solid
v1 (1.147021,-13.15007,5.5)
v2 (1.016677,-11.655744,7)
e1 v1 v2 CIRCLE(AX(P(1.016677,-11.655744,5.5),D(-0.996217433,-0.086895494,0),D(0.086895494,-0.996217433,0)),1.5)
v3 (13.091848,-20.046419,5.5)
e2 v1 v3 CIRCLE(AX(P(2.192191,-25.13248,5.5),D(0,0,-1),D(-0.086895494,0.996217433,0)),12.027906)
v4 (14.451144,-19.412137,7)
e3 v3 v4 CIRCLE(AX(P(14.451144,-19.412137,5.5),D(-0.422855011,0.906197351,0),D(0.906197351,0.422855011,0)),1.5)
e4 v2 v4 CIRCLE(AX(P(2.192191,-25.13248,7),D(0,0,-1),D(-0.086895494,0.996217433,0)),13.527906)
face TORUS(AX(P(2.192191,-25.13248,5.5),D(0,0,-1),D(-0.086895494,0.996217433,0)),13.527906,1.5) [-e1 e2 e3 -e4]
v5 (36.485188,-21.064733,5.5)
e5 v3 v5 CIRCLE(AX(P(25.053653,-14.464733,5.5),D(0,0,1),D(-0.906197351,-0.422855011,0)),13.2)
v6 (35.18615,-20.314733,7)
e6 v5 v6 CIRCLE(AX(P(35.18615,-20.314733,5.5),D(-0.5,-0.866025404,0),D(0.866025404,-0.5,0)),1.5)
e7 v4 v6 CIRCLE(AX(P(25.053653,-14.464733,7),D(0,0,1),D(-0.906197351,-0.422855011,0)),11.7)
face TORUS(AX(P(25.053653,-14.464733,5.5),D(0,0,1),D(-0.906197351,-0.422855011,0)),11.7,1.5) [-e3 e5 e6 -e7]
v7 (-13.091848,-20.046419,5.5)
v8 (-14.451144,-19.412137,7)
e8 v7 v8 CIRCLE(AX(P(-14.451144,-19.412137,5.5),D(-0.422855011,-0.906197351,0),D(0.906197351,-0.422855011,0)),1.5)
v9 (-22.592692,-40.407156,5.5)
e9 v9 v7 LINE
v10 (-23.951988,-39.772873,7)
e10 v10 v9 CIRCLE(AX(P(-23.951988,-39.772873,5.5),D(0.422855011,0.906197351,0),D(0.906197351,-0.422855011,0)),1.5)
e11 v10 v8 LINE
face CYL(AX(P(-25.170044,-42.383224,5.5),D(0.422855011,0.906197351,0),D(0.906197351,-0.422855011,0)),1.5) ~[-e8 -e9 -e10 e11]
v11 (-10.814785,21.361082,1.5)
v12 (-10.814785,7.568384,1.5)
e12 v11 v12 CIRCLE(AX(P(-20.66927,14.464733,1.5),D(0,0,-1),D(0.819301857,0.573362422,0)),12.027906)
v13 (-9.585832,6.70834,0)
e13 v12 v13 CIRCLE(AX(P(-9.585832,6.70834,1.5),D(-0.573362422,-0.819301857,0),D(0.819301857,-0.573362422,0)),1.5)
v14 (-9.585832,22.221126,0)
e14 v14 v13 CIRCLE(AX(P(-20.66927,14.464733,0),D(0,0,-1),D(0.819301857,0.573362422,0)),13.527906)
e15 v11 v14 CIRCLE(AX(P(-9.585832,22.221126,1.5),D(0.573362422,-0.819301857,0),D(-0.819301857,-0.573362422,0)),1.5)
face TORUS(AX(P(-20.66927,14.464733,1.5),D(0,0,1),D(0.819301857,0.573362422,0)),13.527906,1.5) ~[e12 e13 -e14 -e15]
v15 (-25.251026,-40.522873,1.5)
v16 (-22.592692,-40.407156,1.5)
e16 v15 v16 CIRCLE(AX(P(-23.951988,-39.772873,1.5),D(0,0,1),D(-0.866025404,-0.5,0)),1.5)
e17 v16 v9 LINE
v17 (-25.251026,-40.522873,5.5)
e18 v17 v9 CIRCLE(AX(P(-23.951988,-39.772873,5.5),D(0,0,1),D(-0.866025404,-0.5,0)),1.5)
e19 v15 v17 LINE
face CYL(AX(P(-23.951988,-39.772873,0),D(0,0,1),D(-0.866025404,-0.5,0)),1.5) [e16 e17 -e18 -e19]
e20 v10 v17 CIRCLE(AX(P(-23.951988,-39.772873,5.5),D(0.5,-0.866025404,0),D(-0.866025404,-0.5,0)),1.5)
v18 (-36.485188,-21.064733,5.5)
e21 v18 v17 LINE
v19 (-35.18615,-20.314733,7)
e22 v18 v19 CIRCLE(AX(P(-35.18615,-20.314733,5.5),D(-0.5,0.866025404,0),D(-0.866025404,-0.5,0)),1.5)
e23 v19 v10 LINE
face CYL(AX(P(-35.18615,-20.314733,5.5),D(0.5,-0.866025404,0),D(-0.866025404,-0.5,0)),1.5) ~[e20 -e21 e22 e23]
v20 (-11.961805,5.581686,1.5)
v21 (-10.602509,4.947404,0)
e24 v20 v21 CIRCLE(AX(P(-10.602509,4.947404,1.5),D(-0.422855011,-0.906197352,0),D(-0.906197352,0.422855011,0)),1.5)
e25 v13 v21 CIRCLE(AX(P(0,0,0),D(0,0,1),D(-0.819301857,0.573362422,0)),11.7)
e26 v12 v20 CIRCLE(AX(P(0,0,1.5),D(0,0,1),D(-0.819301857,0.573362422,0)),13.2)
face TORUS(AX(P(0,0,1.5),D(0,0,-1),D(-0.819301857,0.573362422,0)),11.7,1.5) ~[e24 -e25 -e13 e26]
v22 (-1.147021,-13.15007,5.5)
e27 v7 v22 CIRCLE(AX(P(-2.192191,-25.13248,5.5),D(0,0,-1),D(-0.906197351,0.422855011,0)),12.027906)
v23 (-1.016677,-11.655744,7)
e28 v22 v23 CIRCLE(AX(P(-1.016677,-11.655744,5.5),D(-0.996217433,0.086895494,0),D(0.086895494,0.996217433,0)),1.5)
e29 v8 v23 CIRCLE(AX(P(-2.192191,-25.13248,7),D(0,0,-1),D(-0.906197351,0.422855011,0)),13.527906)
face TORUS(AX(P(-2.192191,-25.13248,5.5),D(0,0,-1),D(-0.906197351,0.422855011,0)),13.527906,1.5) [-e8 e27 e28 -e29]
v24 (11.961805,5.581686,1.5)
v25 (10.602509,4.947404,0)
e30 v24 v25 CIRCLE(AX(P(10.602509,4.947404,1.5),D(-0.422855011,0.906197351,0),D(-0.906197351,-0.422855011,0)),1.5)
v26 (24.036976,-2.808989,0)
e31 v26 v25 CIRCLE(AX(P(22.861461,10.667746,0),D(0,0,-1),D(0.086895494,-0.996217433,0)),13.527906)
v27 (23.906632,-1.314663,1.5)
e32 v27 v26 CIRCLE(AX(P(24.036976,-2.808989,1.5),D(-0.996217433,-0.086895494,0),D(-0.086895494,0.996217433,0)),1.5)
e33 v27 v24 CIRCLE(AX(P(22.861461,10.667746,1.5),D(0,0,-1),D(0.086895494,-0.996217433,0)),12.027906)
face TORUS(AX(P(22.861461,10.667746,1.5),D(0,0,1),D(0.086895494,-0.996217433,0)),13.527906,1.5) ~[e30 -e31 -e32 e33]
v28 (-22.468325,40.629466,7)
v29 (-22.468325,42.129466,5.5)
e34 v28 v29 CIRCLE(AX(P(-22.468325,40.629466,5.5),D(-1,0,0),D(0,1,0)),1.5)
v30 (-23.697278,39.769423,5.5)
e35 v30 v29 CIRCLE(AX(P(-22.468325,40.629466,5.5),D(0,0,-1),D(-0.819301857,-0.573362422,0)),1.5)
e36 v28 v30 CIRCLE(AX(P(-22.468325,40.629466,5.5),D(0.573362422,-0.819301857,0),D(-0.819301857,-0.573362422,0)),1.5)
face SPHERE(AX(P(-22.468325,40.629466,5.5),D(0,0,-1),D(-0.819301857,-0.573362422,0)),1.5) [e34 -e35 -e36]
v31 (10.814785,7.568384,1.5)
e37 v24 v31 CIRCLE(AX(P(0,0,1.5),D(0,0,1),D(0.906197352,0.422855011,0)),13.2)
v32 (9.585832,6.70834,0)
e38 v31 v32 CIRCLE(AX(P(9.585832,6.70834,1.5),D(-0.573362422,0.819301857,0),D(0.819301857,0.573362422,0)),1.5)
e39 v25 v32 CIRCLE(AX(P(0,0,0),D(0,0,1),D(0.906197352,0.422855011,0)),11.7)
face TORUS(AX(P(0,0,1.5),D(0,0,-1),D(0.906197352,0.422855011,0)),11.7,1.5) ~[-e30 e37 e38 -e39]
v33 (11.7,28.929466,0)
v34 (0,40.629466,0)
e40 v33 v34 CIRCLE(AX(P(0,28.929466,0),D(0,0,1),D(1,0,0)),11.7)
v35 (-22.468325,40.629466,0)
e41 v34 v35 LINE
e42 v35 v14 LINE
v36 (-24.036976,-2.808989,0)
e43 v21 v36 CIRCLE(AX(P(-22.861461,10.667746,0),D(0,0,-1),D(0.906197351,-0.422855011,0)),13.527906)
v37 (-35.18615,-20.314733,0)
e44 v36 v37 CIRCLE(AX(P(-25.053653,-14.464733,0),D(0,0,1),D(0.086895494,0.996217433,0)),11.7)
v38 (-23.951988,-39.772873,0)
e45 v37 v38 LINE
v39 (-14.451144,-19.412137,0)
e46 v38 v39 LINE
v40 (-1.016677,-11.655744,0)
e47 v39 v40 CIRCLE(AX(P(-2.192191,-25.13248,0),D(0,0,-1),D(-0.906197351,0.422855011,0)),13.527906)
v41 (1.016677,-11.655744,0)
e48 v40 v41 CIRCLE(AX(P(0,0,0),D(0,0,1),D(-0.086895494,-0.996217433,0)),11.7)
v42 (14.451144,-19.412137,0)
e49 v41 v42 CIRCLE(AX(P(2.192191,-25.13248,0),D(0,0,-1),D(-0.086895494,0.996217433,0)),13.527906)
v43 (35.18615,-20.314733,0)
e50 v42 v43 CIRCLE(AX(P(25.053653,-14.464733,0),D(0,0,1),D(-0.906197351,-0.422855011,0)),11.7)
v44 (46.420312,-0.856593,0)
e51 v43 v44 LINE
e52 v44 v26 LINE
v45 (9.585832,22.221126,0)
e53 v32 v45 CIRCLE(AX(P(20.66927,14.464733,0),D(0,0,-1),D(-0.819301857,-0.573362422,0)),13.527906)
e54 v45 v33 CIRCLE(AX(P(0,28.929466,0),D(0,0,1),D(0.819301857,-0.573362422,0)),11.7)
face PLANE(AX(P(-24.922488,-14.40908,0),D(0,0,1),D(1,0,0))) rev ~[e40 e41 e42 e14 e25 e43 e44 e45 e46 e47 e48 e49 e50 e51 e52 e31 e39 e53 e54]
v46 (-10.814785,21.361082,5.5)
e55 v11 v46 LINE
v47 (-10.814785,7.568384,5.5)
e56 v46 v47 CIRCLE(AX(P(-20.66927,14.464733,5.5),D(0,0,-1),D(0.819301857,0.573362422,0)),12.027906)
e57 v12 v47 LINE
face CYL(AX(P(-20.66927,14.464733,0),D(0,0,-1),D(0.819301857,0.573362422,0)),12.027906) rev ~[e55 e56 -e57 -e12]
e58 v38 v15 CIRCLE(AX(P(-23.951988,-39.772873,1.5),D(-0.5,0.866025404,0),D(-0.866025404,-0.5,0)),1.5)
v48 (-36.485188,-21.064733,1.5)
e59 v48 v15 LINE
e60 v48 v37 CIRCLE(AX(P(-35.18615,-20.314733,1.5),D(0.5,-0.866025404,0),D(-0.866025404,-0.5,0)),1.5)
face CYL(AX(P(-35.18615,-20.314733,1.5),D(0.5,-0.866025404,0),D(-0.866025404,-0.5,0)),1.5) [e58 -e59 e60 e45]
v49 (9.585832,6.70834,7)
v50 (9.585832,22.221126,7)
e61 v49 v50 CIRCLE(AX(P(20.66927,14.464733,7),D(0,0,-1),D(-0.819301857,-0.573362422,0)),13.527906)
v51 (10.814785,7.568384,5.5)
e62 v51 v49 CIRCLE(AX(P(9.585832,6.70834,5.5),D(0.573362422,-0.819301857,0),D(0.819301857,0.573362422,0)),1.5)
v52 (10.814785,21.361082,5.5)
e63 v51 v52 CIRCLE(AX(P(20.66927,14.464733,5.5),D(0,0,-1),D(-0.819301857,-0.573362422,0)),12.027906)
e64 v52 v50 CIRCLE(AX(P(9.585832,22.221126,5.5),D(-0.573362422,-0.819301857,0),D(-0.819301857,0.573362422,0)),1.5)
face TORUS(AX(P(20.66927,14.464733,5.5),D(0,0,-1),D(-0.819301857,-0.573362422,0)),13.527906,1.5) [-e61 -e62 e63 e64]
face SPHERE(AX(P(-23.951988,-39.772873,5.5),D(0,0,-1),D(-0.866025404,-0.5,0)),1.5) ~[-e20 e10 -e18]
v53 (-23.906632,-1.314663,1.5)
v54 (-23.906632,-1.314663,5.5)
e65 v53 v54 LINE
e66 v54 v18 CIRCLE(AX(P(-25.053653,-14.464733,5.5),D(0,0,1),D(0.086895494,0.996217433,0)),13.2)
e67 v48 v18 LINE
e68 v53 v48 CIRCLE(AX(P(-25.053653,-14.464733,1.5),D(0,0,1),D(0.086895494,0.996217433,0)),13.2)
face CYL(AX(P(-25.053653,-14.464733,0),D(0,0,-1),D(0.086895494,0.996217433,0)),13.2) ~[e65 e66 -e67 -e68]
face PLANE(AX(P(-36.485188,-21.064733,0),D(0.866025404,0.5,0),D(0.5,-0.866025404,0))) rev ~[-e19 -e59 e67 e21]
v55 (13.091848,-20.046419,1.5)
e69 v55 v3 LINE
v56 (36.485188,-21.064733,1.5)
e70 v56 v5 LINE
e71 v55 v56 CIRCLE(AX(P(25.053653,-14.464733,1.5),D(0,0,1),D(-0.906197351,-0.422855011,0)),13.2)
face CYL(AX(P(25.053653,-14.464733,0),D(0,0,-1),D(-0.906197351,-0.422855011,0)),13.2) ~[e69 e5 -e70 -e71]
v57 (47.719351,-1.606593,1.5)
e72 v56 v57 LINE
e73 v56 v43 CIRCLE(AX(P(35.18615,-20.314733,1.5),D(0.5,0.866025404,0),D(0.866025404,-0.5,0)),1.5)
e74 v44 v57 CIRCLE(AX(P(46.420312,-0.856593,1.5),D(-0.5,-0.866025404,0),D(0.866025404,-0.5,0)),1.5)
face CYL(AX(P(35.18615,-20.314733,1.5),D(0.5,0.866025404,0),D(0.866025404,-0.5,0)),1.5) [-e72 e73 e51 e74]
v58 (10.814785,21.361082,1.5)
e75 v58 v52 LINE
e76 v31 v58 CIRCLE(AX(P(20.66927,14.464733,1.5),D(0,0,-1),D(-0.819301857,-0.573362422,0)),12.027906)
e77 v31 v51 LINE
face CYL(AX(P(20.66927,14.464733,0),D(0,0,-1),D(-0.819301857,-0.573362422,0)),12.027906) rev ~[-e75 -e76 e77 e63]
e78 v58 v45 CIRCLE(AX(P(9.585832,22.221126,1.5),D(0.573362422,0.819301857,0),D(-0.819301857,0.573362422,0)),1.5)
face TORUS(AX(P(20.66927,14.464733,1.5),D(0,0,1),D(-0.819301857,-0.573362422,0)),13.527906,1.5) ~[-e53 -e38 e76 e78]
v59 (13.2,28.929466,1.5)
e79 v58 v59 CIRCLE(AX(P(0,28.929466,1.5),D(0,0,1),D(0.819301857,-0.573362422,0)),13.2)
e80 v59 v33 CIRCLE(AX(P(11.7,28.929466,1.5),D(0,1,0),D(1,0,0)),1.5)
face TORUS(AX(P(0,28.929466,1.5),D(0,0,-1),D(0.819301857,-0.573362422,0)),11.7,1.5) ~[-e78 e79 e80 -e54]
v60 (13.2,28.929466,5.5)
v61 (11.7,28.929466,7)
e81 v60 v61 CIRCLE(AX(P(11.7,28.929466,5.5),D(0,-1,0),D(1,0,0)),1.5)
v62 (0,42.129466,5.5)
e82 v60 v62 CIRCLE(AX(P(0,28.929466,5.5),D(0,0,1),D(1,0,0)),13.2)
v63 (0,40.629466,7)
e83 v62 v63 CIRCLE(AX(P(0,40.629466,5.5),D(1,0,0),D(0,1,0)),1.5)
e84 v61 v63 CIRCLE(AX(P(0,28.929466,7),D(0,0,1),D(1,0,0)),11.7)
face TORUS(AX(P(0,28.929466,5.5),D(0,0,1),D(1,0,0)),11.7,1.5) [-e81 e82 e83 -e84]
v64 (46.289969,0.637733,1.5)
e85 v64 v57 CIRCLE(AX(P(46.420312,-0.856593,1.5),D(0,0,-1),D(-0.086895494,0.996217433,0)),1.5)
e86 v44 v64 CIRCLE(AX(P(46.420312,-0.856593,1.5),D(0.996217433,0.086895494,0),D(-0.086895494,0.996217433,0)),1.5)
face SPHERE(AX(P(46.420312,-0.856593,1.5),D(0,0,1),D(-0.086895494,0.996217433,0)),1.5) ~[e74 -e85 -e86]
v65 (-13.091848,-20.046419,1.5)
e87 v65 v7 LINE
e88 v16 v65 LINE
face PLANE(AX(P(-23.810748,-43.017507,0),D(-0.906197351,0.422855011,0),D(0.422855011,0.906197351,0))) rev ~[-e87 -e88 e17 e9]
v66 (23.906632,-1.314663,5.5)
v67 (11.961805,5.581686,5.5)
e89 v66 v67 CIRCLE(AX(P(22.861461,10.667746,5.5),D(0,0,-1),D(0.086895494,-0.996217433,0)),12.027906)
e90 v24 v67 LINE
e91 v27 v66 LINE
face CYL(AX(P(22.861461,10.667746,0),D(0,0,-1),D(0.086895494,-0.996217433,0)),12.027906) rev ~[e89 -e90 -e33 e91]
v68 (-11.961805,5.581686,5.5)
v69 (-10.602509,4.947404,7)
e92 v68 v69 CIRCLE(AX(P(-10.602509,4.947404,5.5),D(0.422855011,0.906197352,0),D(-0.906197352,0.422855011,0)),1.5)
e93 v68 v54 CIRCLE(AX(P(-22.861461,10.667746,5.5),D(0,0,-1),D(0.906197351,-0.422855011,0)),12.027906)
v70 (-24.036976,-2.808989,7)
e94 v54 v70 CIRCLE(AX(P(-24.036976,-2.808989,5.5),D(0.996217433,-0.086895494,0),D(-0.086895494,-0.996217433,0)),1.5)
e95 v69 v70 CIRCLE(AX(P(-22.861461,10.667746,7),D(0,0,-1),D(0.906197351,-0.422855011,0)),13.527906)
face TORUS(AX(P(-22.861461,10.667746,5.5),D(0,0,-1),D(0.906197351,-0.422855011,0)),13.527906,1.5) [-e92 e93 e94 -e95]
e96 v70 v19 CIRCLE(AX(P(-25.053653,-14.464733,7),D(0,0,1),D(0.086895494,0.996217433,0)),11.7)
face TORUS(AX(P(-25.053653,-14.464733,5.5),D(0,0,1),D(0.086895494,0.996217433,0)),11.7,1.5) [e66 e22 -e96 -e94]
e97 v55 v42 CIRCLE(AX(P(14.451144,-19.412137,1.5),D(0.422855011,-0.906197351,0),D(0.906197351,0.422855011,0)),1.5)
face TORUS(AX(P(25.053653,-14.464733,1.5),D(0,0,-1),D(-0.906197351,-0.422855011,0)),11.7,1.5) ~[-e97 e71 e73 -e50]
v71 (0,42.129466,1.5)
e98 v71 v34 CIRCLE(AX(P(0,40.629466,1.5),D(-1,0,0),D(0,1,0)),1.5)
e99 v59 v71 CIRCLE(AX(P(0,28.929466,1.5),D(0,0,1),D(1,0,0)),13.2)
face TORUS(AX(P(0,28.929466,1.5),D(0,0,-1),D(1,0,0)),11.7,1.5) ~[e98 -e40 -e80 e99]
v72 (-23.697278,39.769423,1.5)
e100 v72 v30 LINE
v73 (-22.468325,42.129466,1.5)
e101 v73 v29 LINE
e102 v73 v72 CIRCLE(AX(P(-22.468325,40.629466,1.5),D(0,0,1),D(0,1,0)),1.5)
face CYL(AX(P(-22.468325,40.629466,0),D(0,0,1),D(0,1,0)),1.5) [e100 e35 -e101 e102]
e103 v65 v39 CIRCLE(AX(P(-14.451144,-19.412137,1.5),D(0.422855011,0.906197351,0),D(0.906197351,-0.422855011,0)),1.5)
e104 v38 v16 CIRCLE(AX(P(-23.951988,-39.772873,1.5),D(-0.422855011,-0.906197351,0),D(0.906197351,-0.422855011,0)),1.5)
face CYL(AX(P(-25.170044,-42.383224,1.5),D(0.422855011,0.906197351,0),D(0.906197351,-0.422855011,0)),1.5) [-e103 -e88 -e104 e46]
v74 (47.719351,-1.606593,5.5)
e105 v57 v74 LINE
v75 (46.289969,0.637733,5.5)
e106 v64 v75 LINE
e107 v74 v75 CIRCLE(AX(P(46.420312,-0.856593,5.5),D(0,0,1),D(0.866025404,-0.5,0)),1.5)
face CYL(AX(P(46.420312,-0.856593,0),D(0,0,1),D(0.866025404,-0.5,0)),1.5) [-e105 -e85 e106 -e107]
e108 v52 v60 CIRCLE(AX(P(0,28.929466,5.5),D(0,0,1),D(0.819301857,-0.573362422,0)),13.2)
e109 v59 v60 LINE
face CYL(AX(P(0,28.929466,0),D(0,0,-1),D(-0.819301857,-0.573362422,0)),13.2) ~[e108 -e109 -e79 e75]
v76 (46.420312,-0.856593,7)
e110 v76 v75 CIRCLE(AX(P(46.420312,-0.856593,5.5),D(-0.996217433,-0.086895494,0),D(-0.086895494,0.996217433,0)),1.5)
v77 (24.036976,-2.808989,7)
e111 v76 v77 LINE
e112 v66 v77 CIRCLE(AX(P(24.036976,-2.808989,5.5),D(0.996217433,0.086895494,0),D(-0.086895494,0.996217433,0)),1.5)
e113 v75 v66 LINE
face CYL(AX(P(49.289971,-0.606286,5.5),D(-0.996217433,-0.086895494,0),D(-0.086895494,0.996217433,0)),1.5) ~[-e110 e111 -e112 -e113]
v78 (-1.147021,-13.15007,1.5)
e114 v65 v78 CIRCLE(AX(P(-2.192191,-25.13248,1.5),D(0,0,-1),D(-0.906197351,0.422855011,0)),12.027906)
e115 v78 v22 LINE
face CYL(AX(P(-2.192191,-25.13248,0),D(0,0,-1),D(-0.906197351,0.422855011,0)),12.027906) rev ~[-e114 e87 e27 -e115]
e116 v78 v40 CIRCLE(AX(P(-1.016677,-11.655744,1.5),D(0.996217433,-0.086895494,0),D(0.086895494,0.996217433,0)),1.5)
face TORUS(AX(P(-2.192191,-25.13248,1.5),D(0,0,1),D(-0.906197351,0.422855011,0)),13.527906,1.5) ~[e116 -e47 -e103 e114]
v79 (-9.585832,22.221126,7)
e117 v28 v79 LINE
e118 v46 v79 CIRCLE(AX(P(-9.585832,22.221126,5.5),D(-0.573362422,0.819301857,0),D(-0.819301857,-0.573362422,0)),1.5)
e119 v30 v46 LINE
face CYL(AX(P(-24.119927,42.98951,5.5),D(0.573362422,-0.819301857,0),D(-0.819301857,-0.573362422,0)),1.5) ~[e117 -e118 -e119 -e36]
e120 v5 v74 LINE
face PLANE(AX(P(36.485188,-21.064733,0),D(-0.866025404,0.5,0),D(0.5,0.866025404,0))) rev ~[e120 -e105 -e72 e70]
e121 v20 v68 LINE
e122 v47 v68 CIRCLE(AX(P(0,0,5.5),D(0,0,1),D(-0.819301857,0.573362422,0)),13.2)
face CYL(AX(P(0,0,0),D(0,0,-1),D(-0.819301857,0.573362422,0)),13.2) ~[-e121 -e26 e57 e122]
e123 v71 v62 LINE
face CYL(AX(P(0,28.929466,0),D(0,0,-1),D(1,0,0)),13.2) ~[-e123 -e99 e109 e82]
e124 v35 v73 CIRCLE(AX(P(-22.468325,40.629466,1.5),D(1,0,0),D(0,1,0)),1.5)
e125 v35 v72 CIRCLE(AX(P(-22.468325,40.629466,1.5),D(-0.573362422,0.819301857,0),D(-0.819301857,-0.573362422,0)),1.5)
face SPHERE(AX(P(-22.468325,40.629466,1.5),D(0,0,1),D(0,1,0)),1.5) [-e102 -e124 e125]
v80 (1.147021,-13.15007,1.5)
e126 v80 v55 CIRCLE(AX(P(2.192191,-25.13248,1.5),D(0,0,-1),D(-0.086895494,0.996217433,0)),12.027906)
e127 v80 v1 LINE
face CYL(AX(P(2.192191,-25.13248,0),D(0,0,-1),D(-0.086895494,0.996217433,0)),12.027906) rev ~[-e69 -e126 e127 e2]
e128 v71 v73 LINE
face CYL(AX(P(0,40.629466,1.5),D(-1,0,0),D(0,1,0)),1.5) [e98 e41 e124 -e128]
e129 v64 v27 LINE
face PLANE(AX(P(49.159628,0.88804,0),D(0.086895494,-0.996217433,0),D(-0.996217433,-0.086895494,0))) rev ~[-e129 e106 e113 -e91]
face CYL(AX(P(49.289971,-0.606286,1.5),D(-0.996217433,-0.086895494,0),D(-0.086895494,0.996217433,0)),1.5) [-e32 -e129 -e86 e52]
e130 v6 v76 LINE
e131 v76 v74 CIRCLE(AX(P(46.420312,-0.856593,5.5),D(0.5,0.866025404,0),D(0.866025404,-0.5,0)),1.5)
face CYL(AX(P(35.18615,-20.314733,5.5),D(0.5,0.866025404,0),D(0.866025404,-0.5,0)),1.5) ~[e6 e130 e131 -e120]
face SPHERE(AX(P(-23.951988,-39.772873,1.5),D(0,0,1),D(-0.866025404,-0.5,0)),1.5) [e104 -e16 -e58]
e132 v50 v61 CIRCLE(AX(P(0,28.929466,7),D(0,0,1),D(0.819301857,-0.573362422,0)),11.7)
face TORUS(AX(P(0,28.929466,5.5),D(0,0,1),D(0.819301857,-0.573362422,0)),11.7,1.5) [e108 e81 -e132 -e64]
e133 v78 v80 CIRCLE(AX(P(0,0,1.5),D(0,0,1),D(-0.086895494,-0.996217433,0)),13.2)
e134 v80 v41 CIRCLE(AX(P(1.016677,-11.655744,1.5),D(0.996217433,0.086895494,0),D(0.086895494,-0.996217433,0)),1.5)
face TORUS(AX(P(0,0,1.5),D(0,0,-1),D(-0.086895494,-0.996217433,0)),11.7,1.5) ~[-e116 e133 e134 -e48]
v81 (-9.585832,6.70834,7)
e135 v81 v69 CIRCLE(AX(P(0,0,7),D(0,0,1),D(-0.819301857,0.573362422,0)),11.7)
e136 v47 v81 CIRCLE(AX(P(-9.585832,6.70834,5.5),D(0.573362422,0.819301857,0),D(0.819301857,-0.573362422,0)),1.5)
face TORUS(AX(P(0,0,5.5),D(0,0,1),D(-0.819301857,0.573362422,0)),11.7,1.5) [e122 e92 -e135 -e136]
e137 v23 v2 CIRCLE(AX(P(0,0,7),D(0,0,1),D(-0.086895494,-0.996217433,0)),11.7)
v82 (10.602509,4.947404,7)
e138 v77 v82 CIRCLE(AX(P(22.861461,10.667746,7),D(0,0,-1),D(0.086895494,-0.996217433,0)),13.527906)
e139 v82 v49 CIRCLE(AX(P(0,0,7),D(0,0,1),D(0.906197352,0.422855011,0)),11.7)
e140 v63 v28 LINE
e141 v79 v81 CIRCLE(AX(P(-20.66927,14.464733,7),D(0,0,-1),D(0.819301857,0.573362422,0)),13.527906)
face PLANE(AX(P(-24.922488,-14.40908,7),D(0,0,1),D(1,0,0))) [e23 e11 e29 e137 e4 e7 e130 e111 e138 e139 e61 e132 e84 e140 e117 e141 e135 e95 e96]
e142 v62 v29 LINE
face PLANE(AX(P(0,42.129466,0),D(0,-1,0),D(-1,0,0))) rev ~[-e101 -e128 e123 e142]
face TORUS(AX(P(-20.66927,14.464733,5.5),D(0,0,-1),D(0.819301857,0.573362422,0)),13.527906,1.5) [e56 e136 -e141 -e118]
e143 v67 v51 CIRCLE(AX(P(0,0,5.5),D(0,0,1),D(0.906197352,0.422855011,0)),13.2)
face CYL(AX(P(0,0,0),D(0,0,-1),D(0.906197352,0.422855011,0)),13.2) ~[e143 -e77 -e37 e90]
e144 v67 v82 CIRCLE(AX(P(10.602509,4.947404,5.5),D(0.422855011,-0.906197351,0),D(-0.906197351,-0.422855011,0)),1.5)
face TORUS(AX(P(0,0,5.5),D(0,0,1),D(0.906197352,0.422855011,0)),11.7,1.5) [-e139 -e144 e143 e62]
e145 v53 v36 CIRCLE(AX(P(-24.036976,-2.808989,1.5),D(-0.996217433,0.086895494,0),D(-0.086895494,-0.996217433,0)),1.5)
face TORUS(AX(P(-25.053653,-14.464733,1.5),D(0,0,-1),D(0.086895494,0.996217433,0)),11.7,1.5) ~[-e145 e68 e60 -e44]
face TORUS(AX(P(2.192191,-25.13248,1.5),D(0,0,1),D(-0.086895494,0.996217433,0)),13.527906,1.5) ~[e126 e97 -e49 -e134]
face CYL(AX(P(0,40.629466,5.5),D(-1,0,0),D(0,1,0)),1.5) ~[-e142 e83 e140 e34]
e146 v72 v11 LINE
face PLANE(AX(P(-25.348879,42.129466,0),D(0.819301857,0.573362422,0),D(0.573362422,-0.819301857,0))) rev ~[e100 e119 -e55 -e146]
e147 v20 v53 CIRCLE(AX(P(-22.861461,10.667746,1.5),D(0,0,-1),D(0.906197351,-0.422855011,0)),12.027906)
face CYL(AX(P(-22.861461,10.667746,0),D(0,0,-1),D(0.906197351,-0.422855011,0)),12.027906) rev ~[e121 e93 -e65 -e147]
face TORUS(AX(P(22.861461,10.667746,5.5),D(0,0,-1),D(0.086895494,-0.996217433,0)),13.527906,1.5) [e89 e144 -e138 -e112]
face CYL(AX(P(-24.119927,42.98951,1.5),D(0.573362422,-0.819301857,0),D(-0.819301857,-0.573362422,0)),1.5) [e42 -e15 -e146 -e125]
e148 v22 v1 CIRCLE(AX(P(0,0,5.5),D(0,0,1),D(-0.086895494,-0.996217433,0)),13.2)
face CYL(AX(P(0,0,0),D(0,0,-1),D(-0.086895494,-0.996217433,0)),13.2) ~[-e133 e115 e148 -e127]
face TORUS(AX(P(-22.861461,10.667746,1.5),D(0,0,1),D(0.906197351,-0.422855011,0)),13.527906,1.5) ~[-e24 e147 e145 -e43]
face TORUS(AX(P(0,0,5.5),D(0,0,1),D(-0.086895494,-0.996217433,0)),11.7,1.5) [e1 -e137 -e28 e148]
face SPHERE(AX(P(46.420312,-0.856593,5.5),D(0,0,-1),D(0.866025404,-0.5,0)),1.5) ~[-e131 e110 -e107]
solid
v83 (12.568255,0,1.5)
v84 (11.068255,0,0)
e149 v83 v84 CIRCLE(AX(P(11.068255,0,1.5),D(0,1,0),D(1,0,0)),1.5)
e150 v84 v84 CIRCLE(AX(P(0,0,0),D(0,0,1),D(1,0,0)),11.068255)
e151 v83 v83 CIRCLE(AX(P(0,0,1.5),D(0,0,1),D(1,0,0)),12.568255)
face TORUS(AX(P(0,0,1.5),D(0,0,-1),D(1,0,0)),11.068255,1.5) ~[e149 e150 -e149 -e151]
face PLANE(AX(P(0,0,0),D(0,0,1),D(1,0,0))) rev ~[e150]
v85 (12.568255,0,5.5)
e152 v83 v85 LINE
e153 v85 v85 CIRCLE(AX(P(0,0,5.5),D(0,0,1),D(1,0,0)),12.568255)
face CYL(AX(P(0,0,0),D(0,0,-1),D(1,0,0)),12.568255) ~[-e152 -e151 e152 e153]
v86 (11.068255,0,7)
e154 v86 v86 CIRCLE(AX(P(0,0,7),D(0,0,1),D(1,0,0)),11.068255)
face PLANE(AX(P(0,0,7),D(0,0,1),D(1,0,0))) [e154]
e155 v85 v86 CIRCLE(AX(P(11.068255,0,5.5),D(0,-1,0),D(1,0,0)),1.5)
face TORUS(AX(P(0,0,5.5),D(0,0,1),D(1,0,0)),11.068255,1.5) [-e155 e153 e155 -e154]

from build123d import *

# Parameters (mm, degrees)
F1_R     = 11.2
F2_DEPTH = 7
F0_R     = 12.5682545107
F3_R     = 1.5
F3_2_R   = 1.5


with BuildPart() as f2:
    # F1 (on Top) → F2 (new body)
    with BuildSketch(Plane.XY):
        with BuildLine():
            ThreePointArc((-36.4851881344, -21.0647331908), (-24.4795994364, -27.6522448109), (-13.0918477648, -20.0464193334))
            ThreePointArc((-13.0918477648, -20.0464193334), (-12.1669188016, -17.3234193818), (-11.8536528045, -14.4647331908))
            ThreePointArc((-11.8536528045, -14.4647331908), (-15.3227568816, -5.5456713266), (-23.90663228, -1.3146630801))
            ThreePointArc((-23.90663228, -1.3146630801), (-36.1873461962, -7.373832581), (-36.4851881344, -21.0647331908))
        make_face()
        with Locations((-25.0536528045, -14.4647331908)):
            Circle(F1_R, mode=Mode.SUBTRACT)
        with BuildLine():
            Line((-23.810748436, -43.017506706), (-13.0918477648, -20.0464193334))
            ThreePointArc((-13.0918477648, -20.0464193334), (-24.4795994364, -27.6522448109), (-36.4851881344, -21.0647331908))
            Line((-36.4851881344, -21.0647331908), (-23.810748436, -43.017506706))
        make_face()
        with Locations((-25.0536528045, -14.4647331908)):
            Circle(F1_R)
        with BuildLine():
            ThreePointArc((1.1470205244, -13.1500701107), (9.7308959228, -8.9190618643), (13.2, 0))
            ThreePointArc((13.2, 0), (12.8867340029, 2.858686191), (11.9618050396, 5.5816861425))
            ThreePointArc((11.9618050396, 5.5816861425), (11.43153533, 6.6), (10.8147845152, 7.5683839682))
            ThreePointArc((10.8147845152, 7.5683839682), (0, 13.2), (-10.8147845152, 7.5683839682))
            ThreePointArc((-10.8147845152, 7.5683839682), (-11.43153533, 6.6), (-11.9618050396, 5.5816861425))
            ThreePointArc((-11.9618050396, 5.5816861425), (-11.43153533, -6.6), (-1.1470205244, -13.1500701107))
            ThreePointArc((-1.1470205244, -13.1500701107), (0, -13.2), (1.1470205244, -13.1500701107))
        make_face()
        Circle(F1_R, mode=Mode.SUBTRACT)
        with BuildLine():
            ThreePointArc((38.2536528045, -14.4647331908), (33.9727146687, -4.733837268), (23.90663228, -1.3146630801))
            ThreePointArc((23.90663228, -1.3146630801), (13.6221174745, -7.8647331908), (13.0918477648, -20.0464193334))
            ThreePointArc((13.0918477648, -20.0464193334), (24.4795994364, -27.6522448109), (36.4851881344, -21.0647331908))
            ThreePointArc((36.4851881344, -21.0647331908), (37.8038737115, -17.8811445862), (38.2536528045, -14.4647331908))
        make_face()
        with Locations((25.0536528045, -14.4647331908)):
            Circle(F1_R, mode=Mode.SUBTRACT)
        with BuildLine():
            ThreePointArc((-10.8147845152, 21.3610824135), (0, 15.7294663817), (10.8147845152, 21.3610824135))
            ThreePointArc((10.8147845152, 21.3610824135), (12.5895821138, 24.961794243), (13.2, 28.9294663817))
            ThreePointArc((13.2, 28.9294663817), (9.3338095117, 38.2632758933), (0, 42.1294663817))
            ThreePointArc((0, 42.1294663817), (-11.7077467597, 35.0260773919), (-10.8147845152, 21.3610824135))
        make_face()
        with Locations((0, 28.9294663817)):
            Circle(F1_R, mode=Mode.SUBTRACT)
        with BuildLine():
            ThreePointArc((11.9618050396, 5.5816861425), (12.8867340029, 2.858686191), (13.2, 0))
            ThreePointArc((13.2, 0), (9.7308959228, -8.9190618643), (1.1470205244, -13.1500701107))
            ThreePointArc((1.1470205244, -13.1500701107), (8.2061442682, -14.7160075749), (13.0918477648, -20.0464193334))
            ThreePointArc((13.0918477648, -20.0464193334), (13.6221174745, -7.8647331908), (23.90663228, -1.3146630801))
            ThreePointArc((23.90663228, -1.3146630801), (16.8475085363, 0.2512743841), (11.9618050396, 5.5816861425))
        make_face()
        with BuildLine():
            ThreePointArc((-13.0918477648, -20.0464193334), (-8.2061442682, -14.7160075749), (-1.1470205244, -13.1500701107))
            ThreePointArc((-1.1470205244, -13.1500701107), (-11.43153533, -6.6), (-11.9618050396, 5.5816861425))
            ThreePointArc((-11.9618050396, 5.5816861425), (-16.8475085363, 0.2512743841), (-23.90663228, -1.3146630801))
            ThreePointArc((-23.90663228, -1.3146630801), (-15.3227568816, -5.5456713266), (-11.8536528045, -14.4647331908))
            ThreePointArc((-11.8536528045, -14.4647331908), (-12.1669188016, -17.3234193818), (-13.0918477648, -20.0464193334))
        make_face()
        with Locations((0, 28.9294663817)):
            Circle(F1_R)
        with BuildLine():
            Line((-25.3488793969, 42.1294663817), (-10.8147845152, 21.3610824135))
            ThreePointArc((-10.8147845152, 21.3610824135), (-11.7077467597, 35.0260773919), (0, 42.1294663817))
            Line((0, 42.1294663817), (-25.3488793969, 42.1294663817))
        make_face()
        with BuildLine():
            ThreePointArc((-10.8147845152, 7.5683839682), (0, 13.2), (10.8147845152, 7.5683839682))
            ThreePointArc((10.8147845152, 7.5683839682), (8.6413642681, 14.4647331908), (10.8147845152, 21.3610824135))
            ThreePointArc((10.8147845152, 21.3610824135), (0, 15.7294663817), (-10.8147845152, 21.3610824135))
            ThreePointArc((-10.8147845152, 21.3610824135), (-8.6413642681, 14.4647331908), (-10.8147845152, 7.5683839682))
        make_face()
        with Locations((25.0536528045, -14.4647331908)):
            Circle(F1_R)
        with BuildLine():
            Line((49.1596278329, 0.8880403244), (23.90663228, -1.3146630801))
            ThreePointArc((23.90663228, -1.3146630801), (33.9727146687, -4.733837268), (38.2536528045, -14.4647331908))
            ThreePointArc((38.2536528045, -14.4647331908), (37.8038737115, -17.8811445862), (36.4851881344, -21.0647331908))
            Line((36.4851881344, -21.0647331908), (49.1596278329, 0.8880403244))
        make_face()
        Circle(F1_R)
    extrude(amount=F2_DEPTH)

    # F3
    f3_edges = [f2.edges().sort_by_distance(p)[0] for p in [
        (-30.147968, -32.04112, 7),
        (-18.451298, -31.531963, 7),
        (-8.206144, -14.716008, 7),
        (0, -13.2, 7),
        (8.206144, -14.716008, 7),
        (24.479599, -27.652245, 7),
        (42.822408, -10.088346, 7),
        (36.53313, -0.213311, 7),
        (16.847509, 0.251274, 7),
        (11.431535, 6.6, 7),
        (8.641364, 14.464733, 7),
        (11.707747, 35.026077, 7),
        (-12.67444, 42.129466, 7),
        (-18.081832, 31.745274, 7),
        (-8.641364, 14.464733, 7),
        (-11.431535, 6.6, 7),
        (-16.847509, 0.251274, 7),
        (-36.187346, -7.373833, 7),
        (-18.451298, -31.531963, 0),
        (-8.206144, -14.716008, 0),
        (8.206144, -14.716008, 0),
        (1.147021, -13.15007, 3.5),
        (0, -13.2, 0),
        (24.479599, -27.652245, 0),
        (36.485188, -21.064733, 3.5),
        (42.822408, -10.088346, 0),
        (49.159628, 0.88804, 3.5),
        (-23.810748, -43.017507, 3.5),
        (-13.091848, -20.046419, 3.5),
        (10.814785, 7.568384, 3.5),
        (10.814785, 21.361082, 3.5),
        (8.641364, 14.464733, 0),
        (11.707747, 35.026077, 0),
        (23.906632, -1.314663, 3.5),
        (0, 42.129466, 3.5),
        (-36.187346, -7.373833, 0),
        (-23.906632, -1.314663, 3.5),
        (-36.485188, -21.064733, 3.5),
        (16.847509, 0.251274, 0),
        (-25.348879, 42.129466, 3.5),
        (-18.081832, 31.745274, 0),
        (36.53313, -0.213311, 0),
        (-12.67444, 42.129466, 0),
        (-11.961805, 5.581686, 3.5),
        (11.961805, 5.581686, 3.5),
        (-10.814785, 21.361082, 3.5),
        (13.091848, -20.046419, 3.5),
        (11.431535, 6.6, 0),
        (-30.147968, -32.04112, 0),
        (-16.847509, 0.251274, 0),
        (-11.431535, 6.6, 0),
        (-8.641364, 14.464733, 0),
        (-1.147021, -13.15007, 3.5),
        (-10.814785, 7.568384, 3.5),
    ]]
    fillet(f3_edges, radius=F3_R)


with BuildPart() as f2b:
    # F0 (on Top) → F2, piece 2 (new body)
    with BuildSketch(Plane.XY):
        Circle(F0_R)
    extrude(amount=F2_DEPTH)

    # F3#2
    f3_2_edges = [f2b.edges().sort_by_distance(p)[0] for p in [
        (-12.568255, 0, 7),
        (-12.568255, 0, 0),
    ]]
    fillet(f3_2_edges, radius=F3_2_R)


solid = Compound([f2.part, f2b.part])
